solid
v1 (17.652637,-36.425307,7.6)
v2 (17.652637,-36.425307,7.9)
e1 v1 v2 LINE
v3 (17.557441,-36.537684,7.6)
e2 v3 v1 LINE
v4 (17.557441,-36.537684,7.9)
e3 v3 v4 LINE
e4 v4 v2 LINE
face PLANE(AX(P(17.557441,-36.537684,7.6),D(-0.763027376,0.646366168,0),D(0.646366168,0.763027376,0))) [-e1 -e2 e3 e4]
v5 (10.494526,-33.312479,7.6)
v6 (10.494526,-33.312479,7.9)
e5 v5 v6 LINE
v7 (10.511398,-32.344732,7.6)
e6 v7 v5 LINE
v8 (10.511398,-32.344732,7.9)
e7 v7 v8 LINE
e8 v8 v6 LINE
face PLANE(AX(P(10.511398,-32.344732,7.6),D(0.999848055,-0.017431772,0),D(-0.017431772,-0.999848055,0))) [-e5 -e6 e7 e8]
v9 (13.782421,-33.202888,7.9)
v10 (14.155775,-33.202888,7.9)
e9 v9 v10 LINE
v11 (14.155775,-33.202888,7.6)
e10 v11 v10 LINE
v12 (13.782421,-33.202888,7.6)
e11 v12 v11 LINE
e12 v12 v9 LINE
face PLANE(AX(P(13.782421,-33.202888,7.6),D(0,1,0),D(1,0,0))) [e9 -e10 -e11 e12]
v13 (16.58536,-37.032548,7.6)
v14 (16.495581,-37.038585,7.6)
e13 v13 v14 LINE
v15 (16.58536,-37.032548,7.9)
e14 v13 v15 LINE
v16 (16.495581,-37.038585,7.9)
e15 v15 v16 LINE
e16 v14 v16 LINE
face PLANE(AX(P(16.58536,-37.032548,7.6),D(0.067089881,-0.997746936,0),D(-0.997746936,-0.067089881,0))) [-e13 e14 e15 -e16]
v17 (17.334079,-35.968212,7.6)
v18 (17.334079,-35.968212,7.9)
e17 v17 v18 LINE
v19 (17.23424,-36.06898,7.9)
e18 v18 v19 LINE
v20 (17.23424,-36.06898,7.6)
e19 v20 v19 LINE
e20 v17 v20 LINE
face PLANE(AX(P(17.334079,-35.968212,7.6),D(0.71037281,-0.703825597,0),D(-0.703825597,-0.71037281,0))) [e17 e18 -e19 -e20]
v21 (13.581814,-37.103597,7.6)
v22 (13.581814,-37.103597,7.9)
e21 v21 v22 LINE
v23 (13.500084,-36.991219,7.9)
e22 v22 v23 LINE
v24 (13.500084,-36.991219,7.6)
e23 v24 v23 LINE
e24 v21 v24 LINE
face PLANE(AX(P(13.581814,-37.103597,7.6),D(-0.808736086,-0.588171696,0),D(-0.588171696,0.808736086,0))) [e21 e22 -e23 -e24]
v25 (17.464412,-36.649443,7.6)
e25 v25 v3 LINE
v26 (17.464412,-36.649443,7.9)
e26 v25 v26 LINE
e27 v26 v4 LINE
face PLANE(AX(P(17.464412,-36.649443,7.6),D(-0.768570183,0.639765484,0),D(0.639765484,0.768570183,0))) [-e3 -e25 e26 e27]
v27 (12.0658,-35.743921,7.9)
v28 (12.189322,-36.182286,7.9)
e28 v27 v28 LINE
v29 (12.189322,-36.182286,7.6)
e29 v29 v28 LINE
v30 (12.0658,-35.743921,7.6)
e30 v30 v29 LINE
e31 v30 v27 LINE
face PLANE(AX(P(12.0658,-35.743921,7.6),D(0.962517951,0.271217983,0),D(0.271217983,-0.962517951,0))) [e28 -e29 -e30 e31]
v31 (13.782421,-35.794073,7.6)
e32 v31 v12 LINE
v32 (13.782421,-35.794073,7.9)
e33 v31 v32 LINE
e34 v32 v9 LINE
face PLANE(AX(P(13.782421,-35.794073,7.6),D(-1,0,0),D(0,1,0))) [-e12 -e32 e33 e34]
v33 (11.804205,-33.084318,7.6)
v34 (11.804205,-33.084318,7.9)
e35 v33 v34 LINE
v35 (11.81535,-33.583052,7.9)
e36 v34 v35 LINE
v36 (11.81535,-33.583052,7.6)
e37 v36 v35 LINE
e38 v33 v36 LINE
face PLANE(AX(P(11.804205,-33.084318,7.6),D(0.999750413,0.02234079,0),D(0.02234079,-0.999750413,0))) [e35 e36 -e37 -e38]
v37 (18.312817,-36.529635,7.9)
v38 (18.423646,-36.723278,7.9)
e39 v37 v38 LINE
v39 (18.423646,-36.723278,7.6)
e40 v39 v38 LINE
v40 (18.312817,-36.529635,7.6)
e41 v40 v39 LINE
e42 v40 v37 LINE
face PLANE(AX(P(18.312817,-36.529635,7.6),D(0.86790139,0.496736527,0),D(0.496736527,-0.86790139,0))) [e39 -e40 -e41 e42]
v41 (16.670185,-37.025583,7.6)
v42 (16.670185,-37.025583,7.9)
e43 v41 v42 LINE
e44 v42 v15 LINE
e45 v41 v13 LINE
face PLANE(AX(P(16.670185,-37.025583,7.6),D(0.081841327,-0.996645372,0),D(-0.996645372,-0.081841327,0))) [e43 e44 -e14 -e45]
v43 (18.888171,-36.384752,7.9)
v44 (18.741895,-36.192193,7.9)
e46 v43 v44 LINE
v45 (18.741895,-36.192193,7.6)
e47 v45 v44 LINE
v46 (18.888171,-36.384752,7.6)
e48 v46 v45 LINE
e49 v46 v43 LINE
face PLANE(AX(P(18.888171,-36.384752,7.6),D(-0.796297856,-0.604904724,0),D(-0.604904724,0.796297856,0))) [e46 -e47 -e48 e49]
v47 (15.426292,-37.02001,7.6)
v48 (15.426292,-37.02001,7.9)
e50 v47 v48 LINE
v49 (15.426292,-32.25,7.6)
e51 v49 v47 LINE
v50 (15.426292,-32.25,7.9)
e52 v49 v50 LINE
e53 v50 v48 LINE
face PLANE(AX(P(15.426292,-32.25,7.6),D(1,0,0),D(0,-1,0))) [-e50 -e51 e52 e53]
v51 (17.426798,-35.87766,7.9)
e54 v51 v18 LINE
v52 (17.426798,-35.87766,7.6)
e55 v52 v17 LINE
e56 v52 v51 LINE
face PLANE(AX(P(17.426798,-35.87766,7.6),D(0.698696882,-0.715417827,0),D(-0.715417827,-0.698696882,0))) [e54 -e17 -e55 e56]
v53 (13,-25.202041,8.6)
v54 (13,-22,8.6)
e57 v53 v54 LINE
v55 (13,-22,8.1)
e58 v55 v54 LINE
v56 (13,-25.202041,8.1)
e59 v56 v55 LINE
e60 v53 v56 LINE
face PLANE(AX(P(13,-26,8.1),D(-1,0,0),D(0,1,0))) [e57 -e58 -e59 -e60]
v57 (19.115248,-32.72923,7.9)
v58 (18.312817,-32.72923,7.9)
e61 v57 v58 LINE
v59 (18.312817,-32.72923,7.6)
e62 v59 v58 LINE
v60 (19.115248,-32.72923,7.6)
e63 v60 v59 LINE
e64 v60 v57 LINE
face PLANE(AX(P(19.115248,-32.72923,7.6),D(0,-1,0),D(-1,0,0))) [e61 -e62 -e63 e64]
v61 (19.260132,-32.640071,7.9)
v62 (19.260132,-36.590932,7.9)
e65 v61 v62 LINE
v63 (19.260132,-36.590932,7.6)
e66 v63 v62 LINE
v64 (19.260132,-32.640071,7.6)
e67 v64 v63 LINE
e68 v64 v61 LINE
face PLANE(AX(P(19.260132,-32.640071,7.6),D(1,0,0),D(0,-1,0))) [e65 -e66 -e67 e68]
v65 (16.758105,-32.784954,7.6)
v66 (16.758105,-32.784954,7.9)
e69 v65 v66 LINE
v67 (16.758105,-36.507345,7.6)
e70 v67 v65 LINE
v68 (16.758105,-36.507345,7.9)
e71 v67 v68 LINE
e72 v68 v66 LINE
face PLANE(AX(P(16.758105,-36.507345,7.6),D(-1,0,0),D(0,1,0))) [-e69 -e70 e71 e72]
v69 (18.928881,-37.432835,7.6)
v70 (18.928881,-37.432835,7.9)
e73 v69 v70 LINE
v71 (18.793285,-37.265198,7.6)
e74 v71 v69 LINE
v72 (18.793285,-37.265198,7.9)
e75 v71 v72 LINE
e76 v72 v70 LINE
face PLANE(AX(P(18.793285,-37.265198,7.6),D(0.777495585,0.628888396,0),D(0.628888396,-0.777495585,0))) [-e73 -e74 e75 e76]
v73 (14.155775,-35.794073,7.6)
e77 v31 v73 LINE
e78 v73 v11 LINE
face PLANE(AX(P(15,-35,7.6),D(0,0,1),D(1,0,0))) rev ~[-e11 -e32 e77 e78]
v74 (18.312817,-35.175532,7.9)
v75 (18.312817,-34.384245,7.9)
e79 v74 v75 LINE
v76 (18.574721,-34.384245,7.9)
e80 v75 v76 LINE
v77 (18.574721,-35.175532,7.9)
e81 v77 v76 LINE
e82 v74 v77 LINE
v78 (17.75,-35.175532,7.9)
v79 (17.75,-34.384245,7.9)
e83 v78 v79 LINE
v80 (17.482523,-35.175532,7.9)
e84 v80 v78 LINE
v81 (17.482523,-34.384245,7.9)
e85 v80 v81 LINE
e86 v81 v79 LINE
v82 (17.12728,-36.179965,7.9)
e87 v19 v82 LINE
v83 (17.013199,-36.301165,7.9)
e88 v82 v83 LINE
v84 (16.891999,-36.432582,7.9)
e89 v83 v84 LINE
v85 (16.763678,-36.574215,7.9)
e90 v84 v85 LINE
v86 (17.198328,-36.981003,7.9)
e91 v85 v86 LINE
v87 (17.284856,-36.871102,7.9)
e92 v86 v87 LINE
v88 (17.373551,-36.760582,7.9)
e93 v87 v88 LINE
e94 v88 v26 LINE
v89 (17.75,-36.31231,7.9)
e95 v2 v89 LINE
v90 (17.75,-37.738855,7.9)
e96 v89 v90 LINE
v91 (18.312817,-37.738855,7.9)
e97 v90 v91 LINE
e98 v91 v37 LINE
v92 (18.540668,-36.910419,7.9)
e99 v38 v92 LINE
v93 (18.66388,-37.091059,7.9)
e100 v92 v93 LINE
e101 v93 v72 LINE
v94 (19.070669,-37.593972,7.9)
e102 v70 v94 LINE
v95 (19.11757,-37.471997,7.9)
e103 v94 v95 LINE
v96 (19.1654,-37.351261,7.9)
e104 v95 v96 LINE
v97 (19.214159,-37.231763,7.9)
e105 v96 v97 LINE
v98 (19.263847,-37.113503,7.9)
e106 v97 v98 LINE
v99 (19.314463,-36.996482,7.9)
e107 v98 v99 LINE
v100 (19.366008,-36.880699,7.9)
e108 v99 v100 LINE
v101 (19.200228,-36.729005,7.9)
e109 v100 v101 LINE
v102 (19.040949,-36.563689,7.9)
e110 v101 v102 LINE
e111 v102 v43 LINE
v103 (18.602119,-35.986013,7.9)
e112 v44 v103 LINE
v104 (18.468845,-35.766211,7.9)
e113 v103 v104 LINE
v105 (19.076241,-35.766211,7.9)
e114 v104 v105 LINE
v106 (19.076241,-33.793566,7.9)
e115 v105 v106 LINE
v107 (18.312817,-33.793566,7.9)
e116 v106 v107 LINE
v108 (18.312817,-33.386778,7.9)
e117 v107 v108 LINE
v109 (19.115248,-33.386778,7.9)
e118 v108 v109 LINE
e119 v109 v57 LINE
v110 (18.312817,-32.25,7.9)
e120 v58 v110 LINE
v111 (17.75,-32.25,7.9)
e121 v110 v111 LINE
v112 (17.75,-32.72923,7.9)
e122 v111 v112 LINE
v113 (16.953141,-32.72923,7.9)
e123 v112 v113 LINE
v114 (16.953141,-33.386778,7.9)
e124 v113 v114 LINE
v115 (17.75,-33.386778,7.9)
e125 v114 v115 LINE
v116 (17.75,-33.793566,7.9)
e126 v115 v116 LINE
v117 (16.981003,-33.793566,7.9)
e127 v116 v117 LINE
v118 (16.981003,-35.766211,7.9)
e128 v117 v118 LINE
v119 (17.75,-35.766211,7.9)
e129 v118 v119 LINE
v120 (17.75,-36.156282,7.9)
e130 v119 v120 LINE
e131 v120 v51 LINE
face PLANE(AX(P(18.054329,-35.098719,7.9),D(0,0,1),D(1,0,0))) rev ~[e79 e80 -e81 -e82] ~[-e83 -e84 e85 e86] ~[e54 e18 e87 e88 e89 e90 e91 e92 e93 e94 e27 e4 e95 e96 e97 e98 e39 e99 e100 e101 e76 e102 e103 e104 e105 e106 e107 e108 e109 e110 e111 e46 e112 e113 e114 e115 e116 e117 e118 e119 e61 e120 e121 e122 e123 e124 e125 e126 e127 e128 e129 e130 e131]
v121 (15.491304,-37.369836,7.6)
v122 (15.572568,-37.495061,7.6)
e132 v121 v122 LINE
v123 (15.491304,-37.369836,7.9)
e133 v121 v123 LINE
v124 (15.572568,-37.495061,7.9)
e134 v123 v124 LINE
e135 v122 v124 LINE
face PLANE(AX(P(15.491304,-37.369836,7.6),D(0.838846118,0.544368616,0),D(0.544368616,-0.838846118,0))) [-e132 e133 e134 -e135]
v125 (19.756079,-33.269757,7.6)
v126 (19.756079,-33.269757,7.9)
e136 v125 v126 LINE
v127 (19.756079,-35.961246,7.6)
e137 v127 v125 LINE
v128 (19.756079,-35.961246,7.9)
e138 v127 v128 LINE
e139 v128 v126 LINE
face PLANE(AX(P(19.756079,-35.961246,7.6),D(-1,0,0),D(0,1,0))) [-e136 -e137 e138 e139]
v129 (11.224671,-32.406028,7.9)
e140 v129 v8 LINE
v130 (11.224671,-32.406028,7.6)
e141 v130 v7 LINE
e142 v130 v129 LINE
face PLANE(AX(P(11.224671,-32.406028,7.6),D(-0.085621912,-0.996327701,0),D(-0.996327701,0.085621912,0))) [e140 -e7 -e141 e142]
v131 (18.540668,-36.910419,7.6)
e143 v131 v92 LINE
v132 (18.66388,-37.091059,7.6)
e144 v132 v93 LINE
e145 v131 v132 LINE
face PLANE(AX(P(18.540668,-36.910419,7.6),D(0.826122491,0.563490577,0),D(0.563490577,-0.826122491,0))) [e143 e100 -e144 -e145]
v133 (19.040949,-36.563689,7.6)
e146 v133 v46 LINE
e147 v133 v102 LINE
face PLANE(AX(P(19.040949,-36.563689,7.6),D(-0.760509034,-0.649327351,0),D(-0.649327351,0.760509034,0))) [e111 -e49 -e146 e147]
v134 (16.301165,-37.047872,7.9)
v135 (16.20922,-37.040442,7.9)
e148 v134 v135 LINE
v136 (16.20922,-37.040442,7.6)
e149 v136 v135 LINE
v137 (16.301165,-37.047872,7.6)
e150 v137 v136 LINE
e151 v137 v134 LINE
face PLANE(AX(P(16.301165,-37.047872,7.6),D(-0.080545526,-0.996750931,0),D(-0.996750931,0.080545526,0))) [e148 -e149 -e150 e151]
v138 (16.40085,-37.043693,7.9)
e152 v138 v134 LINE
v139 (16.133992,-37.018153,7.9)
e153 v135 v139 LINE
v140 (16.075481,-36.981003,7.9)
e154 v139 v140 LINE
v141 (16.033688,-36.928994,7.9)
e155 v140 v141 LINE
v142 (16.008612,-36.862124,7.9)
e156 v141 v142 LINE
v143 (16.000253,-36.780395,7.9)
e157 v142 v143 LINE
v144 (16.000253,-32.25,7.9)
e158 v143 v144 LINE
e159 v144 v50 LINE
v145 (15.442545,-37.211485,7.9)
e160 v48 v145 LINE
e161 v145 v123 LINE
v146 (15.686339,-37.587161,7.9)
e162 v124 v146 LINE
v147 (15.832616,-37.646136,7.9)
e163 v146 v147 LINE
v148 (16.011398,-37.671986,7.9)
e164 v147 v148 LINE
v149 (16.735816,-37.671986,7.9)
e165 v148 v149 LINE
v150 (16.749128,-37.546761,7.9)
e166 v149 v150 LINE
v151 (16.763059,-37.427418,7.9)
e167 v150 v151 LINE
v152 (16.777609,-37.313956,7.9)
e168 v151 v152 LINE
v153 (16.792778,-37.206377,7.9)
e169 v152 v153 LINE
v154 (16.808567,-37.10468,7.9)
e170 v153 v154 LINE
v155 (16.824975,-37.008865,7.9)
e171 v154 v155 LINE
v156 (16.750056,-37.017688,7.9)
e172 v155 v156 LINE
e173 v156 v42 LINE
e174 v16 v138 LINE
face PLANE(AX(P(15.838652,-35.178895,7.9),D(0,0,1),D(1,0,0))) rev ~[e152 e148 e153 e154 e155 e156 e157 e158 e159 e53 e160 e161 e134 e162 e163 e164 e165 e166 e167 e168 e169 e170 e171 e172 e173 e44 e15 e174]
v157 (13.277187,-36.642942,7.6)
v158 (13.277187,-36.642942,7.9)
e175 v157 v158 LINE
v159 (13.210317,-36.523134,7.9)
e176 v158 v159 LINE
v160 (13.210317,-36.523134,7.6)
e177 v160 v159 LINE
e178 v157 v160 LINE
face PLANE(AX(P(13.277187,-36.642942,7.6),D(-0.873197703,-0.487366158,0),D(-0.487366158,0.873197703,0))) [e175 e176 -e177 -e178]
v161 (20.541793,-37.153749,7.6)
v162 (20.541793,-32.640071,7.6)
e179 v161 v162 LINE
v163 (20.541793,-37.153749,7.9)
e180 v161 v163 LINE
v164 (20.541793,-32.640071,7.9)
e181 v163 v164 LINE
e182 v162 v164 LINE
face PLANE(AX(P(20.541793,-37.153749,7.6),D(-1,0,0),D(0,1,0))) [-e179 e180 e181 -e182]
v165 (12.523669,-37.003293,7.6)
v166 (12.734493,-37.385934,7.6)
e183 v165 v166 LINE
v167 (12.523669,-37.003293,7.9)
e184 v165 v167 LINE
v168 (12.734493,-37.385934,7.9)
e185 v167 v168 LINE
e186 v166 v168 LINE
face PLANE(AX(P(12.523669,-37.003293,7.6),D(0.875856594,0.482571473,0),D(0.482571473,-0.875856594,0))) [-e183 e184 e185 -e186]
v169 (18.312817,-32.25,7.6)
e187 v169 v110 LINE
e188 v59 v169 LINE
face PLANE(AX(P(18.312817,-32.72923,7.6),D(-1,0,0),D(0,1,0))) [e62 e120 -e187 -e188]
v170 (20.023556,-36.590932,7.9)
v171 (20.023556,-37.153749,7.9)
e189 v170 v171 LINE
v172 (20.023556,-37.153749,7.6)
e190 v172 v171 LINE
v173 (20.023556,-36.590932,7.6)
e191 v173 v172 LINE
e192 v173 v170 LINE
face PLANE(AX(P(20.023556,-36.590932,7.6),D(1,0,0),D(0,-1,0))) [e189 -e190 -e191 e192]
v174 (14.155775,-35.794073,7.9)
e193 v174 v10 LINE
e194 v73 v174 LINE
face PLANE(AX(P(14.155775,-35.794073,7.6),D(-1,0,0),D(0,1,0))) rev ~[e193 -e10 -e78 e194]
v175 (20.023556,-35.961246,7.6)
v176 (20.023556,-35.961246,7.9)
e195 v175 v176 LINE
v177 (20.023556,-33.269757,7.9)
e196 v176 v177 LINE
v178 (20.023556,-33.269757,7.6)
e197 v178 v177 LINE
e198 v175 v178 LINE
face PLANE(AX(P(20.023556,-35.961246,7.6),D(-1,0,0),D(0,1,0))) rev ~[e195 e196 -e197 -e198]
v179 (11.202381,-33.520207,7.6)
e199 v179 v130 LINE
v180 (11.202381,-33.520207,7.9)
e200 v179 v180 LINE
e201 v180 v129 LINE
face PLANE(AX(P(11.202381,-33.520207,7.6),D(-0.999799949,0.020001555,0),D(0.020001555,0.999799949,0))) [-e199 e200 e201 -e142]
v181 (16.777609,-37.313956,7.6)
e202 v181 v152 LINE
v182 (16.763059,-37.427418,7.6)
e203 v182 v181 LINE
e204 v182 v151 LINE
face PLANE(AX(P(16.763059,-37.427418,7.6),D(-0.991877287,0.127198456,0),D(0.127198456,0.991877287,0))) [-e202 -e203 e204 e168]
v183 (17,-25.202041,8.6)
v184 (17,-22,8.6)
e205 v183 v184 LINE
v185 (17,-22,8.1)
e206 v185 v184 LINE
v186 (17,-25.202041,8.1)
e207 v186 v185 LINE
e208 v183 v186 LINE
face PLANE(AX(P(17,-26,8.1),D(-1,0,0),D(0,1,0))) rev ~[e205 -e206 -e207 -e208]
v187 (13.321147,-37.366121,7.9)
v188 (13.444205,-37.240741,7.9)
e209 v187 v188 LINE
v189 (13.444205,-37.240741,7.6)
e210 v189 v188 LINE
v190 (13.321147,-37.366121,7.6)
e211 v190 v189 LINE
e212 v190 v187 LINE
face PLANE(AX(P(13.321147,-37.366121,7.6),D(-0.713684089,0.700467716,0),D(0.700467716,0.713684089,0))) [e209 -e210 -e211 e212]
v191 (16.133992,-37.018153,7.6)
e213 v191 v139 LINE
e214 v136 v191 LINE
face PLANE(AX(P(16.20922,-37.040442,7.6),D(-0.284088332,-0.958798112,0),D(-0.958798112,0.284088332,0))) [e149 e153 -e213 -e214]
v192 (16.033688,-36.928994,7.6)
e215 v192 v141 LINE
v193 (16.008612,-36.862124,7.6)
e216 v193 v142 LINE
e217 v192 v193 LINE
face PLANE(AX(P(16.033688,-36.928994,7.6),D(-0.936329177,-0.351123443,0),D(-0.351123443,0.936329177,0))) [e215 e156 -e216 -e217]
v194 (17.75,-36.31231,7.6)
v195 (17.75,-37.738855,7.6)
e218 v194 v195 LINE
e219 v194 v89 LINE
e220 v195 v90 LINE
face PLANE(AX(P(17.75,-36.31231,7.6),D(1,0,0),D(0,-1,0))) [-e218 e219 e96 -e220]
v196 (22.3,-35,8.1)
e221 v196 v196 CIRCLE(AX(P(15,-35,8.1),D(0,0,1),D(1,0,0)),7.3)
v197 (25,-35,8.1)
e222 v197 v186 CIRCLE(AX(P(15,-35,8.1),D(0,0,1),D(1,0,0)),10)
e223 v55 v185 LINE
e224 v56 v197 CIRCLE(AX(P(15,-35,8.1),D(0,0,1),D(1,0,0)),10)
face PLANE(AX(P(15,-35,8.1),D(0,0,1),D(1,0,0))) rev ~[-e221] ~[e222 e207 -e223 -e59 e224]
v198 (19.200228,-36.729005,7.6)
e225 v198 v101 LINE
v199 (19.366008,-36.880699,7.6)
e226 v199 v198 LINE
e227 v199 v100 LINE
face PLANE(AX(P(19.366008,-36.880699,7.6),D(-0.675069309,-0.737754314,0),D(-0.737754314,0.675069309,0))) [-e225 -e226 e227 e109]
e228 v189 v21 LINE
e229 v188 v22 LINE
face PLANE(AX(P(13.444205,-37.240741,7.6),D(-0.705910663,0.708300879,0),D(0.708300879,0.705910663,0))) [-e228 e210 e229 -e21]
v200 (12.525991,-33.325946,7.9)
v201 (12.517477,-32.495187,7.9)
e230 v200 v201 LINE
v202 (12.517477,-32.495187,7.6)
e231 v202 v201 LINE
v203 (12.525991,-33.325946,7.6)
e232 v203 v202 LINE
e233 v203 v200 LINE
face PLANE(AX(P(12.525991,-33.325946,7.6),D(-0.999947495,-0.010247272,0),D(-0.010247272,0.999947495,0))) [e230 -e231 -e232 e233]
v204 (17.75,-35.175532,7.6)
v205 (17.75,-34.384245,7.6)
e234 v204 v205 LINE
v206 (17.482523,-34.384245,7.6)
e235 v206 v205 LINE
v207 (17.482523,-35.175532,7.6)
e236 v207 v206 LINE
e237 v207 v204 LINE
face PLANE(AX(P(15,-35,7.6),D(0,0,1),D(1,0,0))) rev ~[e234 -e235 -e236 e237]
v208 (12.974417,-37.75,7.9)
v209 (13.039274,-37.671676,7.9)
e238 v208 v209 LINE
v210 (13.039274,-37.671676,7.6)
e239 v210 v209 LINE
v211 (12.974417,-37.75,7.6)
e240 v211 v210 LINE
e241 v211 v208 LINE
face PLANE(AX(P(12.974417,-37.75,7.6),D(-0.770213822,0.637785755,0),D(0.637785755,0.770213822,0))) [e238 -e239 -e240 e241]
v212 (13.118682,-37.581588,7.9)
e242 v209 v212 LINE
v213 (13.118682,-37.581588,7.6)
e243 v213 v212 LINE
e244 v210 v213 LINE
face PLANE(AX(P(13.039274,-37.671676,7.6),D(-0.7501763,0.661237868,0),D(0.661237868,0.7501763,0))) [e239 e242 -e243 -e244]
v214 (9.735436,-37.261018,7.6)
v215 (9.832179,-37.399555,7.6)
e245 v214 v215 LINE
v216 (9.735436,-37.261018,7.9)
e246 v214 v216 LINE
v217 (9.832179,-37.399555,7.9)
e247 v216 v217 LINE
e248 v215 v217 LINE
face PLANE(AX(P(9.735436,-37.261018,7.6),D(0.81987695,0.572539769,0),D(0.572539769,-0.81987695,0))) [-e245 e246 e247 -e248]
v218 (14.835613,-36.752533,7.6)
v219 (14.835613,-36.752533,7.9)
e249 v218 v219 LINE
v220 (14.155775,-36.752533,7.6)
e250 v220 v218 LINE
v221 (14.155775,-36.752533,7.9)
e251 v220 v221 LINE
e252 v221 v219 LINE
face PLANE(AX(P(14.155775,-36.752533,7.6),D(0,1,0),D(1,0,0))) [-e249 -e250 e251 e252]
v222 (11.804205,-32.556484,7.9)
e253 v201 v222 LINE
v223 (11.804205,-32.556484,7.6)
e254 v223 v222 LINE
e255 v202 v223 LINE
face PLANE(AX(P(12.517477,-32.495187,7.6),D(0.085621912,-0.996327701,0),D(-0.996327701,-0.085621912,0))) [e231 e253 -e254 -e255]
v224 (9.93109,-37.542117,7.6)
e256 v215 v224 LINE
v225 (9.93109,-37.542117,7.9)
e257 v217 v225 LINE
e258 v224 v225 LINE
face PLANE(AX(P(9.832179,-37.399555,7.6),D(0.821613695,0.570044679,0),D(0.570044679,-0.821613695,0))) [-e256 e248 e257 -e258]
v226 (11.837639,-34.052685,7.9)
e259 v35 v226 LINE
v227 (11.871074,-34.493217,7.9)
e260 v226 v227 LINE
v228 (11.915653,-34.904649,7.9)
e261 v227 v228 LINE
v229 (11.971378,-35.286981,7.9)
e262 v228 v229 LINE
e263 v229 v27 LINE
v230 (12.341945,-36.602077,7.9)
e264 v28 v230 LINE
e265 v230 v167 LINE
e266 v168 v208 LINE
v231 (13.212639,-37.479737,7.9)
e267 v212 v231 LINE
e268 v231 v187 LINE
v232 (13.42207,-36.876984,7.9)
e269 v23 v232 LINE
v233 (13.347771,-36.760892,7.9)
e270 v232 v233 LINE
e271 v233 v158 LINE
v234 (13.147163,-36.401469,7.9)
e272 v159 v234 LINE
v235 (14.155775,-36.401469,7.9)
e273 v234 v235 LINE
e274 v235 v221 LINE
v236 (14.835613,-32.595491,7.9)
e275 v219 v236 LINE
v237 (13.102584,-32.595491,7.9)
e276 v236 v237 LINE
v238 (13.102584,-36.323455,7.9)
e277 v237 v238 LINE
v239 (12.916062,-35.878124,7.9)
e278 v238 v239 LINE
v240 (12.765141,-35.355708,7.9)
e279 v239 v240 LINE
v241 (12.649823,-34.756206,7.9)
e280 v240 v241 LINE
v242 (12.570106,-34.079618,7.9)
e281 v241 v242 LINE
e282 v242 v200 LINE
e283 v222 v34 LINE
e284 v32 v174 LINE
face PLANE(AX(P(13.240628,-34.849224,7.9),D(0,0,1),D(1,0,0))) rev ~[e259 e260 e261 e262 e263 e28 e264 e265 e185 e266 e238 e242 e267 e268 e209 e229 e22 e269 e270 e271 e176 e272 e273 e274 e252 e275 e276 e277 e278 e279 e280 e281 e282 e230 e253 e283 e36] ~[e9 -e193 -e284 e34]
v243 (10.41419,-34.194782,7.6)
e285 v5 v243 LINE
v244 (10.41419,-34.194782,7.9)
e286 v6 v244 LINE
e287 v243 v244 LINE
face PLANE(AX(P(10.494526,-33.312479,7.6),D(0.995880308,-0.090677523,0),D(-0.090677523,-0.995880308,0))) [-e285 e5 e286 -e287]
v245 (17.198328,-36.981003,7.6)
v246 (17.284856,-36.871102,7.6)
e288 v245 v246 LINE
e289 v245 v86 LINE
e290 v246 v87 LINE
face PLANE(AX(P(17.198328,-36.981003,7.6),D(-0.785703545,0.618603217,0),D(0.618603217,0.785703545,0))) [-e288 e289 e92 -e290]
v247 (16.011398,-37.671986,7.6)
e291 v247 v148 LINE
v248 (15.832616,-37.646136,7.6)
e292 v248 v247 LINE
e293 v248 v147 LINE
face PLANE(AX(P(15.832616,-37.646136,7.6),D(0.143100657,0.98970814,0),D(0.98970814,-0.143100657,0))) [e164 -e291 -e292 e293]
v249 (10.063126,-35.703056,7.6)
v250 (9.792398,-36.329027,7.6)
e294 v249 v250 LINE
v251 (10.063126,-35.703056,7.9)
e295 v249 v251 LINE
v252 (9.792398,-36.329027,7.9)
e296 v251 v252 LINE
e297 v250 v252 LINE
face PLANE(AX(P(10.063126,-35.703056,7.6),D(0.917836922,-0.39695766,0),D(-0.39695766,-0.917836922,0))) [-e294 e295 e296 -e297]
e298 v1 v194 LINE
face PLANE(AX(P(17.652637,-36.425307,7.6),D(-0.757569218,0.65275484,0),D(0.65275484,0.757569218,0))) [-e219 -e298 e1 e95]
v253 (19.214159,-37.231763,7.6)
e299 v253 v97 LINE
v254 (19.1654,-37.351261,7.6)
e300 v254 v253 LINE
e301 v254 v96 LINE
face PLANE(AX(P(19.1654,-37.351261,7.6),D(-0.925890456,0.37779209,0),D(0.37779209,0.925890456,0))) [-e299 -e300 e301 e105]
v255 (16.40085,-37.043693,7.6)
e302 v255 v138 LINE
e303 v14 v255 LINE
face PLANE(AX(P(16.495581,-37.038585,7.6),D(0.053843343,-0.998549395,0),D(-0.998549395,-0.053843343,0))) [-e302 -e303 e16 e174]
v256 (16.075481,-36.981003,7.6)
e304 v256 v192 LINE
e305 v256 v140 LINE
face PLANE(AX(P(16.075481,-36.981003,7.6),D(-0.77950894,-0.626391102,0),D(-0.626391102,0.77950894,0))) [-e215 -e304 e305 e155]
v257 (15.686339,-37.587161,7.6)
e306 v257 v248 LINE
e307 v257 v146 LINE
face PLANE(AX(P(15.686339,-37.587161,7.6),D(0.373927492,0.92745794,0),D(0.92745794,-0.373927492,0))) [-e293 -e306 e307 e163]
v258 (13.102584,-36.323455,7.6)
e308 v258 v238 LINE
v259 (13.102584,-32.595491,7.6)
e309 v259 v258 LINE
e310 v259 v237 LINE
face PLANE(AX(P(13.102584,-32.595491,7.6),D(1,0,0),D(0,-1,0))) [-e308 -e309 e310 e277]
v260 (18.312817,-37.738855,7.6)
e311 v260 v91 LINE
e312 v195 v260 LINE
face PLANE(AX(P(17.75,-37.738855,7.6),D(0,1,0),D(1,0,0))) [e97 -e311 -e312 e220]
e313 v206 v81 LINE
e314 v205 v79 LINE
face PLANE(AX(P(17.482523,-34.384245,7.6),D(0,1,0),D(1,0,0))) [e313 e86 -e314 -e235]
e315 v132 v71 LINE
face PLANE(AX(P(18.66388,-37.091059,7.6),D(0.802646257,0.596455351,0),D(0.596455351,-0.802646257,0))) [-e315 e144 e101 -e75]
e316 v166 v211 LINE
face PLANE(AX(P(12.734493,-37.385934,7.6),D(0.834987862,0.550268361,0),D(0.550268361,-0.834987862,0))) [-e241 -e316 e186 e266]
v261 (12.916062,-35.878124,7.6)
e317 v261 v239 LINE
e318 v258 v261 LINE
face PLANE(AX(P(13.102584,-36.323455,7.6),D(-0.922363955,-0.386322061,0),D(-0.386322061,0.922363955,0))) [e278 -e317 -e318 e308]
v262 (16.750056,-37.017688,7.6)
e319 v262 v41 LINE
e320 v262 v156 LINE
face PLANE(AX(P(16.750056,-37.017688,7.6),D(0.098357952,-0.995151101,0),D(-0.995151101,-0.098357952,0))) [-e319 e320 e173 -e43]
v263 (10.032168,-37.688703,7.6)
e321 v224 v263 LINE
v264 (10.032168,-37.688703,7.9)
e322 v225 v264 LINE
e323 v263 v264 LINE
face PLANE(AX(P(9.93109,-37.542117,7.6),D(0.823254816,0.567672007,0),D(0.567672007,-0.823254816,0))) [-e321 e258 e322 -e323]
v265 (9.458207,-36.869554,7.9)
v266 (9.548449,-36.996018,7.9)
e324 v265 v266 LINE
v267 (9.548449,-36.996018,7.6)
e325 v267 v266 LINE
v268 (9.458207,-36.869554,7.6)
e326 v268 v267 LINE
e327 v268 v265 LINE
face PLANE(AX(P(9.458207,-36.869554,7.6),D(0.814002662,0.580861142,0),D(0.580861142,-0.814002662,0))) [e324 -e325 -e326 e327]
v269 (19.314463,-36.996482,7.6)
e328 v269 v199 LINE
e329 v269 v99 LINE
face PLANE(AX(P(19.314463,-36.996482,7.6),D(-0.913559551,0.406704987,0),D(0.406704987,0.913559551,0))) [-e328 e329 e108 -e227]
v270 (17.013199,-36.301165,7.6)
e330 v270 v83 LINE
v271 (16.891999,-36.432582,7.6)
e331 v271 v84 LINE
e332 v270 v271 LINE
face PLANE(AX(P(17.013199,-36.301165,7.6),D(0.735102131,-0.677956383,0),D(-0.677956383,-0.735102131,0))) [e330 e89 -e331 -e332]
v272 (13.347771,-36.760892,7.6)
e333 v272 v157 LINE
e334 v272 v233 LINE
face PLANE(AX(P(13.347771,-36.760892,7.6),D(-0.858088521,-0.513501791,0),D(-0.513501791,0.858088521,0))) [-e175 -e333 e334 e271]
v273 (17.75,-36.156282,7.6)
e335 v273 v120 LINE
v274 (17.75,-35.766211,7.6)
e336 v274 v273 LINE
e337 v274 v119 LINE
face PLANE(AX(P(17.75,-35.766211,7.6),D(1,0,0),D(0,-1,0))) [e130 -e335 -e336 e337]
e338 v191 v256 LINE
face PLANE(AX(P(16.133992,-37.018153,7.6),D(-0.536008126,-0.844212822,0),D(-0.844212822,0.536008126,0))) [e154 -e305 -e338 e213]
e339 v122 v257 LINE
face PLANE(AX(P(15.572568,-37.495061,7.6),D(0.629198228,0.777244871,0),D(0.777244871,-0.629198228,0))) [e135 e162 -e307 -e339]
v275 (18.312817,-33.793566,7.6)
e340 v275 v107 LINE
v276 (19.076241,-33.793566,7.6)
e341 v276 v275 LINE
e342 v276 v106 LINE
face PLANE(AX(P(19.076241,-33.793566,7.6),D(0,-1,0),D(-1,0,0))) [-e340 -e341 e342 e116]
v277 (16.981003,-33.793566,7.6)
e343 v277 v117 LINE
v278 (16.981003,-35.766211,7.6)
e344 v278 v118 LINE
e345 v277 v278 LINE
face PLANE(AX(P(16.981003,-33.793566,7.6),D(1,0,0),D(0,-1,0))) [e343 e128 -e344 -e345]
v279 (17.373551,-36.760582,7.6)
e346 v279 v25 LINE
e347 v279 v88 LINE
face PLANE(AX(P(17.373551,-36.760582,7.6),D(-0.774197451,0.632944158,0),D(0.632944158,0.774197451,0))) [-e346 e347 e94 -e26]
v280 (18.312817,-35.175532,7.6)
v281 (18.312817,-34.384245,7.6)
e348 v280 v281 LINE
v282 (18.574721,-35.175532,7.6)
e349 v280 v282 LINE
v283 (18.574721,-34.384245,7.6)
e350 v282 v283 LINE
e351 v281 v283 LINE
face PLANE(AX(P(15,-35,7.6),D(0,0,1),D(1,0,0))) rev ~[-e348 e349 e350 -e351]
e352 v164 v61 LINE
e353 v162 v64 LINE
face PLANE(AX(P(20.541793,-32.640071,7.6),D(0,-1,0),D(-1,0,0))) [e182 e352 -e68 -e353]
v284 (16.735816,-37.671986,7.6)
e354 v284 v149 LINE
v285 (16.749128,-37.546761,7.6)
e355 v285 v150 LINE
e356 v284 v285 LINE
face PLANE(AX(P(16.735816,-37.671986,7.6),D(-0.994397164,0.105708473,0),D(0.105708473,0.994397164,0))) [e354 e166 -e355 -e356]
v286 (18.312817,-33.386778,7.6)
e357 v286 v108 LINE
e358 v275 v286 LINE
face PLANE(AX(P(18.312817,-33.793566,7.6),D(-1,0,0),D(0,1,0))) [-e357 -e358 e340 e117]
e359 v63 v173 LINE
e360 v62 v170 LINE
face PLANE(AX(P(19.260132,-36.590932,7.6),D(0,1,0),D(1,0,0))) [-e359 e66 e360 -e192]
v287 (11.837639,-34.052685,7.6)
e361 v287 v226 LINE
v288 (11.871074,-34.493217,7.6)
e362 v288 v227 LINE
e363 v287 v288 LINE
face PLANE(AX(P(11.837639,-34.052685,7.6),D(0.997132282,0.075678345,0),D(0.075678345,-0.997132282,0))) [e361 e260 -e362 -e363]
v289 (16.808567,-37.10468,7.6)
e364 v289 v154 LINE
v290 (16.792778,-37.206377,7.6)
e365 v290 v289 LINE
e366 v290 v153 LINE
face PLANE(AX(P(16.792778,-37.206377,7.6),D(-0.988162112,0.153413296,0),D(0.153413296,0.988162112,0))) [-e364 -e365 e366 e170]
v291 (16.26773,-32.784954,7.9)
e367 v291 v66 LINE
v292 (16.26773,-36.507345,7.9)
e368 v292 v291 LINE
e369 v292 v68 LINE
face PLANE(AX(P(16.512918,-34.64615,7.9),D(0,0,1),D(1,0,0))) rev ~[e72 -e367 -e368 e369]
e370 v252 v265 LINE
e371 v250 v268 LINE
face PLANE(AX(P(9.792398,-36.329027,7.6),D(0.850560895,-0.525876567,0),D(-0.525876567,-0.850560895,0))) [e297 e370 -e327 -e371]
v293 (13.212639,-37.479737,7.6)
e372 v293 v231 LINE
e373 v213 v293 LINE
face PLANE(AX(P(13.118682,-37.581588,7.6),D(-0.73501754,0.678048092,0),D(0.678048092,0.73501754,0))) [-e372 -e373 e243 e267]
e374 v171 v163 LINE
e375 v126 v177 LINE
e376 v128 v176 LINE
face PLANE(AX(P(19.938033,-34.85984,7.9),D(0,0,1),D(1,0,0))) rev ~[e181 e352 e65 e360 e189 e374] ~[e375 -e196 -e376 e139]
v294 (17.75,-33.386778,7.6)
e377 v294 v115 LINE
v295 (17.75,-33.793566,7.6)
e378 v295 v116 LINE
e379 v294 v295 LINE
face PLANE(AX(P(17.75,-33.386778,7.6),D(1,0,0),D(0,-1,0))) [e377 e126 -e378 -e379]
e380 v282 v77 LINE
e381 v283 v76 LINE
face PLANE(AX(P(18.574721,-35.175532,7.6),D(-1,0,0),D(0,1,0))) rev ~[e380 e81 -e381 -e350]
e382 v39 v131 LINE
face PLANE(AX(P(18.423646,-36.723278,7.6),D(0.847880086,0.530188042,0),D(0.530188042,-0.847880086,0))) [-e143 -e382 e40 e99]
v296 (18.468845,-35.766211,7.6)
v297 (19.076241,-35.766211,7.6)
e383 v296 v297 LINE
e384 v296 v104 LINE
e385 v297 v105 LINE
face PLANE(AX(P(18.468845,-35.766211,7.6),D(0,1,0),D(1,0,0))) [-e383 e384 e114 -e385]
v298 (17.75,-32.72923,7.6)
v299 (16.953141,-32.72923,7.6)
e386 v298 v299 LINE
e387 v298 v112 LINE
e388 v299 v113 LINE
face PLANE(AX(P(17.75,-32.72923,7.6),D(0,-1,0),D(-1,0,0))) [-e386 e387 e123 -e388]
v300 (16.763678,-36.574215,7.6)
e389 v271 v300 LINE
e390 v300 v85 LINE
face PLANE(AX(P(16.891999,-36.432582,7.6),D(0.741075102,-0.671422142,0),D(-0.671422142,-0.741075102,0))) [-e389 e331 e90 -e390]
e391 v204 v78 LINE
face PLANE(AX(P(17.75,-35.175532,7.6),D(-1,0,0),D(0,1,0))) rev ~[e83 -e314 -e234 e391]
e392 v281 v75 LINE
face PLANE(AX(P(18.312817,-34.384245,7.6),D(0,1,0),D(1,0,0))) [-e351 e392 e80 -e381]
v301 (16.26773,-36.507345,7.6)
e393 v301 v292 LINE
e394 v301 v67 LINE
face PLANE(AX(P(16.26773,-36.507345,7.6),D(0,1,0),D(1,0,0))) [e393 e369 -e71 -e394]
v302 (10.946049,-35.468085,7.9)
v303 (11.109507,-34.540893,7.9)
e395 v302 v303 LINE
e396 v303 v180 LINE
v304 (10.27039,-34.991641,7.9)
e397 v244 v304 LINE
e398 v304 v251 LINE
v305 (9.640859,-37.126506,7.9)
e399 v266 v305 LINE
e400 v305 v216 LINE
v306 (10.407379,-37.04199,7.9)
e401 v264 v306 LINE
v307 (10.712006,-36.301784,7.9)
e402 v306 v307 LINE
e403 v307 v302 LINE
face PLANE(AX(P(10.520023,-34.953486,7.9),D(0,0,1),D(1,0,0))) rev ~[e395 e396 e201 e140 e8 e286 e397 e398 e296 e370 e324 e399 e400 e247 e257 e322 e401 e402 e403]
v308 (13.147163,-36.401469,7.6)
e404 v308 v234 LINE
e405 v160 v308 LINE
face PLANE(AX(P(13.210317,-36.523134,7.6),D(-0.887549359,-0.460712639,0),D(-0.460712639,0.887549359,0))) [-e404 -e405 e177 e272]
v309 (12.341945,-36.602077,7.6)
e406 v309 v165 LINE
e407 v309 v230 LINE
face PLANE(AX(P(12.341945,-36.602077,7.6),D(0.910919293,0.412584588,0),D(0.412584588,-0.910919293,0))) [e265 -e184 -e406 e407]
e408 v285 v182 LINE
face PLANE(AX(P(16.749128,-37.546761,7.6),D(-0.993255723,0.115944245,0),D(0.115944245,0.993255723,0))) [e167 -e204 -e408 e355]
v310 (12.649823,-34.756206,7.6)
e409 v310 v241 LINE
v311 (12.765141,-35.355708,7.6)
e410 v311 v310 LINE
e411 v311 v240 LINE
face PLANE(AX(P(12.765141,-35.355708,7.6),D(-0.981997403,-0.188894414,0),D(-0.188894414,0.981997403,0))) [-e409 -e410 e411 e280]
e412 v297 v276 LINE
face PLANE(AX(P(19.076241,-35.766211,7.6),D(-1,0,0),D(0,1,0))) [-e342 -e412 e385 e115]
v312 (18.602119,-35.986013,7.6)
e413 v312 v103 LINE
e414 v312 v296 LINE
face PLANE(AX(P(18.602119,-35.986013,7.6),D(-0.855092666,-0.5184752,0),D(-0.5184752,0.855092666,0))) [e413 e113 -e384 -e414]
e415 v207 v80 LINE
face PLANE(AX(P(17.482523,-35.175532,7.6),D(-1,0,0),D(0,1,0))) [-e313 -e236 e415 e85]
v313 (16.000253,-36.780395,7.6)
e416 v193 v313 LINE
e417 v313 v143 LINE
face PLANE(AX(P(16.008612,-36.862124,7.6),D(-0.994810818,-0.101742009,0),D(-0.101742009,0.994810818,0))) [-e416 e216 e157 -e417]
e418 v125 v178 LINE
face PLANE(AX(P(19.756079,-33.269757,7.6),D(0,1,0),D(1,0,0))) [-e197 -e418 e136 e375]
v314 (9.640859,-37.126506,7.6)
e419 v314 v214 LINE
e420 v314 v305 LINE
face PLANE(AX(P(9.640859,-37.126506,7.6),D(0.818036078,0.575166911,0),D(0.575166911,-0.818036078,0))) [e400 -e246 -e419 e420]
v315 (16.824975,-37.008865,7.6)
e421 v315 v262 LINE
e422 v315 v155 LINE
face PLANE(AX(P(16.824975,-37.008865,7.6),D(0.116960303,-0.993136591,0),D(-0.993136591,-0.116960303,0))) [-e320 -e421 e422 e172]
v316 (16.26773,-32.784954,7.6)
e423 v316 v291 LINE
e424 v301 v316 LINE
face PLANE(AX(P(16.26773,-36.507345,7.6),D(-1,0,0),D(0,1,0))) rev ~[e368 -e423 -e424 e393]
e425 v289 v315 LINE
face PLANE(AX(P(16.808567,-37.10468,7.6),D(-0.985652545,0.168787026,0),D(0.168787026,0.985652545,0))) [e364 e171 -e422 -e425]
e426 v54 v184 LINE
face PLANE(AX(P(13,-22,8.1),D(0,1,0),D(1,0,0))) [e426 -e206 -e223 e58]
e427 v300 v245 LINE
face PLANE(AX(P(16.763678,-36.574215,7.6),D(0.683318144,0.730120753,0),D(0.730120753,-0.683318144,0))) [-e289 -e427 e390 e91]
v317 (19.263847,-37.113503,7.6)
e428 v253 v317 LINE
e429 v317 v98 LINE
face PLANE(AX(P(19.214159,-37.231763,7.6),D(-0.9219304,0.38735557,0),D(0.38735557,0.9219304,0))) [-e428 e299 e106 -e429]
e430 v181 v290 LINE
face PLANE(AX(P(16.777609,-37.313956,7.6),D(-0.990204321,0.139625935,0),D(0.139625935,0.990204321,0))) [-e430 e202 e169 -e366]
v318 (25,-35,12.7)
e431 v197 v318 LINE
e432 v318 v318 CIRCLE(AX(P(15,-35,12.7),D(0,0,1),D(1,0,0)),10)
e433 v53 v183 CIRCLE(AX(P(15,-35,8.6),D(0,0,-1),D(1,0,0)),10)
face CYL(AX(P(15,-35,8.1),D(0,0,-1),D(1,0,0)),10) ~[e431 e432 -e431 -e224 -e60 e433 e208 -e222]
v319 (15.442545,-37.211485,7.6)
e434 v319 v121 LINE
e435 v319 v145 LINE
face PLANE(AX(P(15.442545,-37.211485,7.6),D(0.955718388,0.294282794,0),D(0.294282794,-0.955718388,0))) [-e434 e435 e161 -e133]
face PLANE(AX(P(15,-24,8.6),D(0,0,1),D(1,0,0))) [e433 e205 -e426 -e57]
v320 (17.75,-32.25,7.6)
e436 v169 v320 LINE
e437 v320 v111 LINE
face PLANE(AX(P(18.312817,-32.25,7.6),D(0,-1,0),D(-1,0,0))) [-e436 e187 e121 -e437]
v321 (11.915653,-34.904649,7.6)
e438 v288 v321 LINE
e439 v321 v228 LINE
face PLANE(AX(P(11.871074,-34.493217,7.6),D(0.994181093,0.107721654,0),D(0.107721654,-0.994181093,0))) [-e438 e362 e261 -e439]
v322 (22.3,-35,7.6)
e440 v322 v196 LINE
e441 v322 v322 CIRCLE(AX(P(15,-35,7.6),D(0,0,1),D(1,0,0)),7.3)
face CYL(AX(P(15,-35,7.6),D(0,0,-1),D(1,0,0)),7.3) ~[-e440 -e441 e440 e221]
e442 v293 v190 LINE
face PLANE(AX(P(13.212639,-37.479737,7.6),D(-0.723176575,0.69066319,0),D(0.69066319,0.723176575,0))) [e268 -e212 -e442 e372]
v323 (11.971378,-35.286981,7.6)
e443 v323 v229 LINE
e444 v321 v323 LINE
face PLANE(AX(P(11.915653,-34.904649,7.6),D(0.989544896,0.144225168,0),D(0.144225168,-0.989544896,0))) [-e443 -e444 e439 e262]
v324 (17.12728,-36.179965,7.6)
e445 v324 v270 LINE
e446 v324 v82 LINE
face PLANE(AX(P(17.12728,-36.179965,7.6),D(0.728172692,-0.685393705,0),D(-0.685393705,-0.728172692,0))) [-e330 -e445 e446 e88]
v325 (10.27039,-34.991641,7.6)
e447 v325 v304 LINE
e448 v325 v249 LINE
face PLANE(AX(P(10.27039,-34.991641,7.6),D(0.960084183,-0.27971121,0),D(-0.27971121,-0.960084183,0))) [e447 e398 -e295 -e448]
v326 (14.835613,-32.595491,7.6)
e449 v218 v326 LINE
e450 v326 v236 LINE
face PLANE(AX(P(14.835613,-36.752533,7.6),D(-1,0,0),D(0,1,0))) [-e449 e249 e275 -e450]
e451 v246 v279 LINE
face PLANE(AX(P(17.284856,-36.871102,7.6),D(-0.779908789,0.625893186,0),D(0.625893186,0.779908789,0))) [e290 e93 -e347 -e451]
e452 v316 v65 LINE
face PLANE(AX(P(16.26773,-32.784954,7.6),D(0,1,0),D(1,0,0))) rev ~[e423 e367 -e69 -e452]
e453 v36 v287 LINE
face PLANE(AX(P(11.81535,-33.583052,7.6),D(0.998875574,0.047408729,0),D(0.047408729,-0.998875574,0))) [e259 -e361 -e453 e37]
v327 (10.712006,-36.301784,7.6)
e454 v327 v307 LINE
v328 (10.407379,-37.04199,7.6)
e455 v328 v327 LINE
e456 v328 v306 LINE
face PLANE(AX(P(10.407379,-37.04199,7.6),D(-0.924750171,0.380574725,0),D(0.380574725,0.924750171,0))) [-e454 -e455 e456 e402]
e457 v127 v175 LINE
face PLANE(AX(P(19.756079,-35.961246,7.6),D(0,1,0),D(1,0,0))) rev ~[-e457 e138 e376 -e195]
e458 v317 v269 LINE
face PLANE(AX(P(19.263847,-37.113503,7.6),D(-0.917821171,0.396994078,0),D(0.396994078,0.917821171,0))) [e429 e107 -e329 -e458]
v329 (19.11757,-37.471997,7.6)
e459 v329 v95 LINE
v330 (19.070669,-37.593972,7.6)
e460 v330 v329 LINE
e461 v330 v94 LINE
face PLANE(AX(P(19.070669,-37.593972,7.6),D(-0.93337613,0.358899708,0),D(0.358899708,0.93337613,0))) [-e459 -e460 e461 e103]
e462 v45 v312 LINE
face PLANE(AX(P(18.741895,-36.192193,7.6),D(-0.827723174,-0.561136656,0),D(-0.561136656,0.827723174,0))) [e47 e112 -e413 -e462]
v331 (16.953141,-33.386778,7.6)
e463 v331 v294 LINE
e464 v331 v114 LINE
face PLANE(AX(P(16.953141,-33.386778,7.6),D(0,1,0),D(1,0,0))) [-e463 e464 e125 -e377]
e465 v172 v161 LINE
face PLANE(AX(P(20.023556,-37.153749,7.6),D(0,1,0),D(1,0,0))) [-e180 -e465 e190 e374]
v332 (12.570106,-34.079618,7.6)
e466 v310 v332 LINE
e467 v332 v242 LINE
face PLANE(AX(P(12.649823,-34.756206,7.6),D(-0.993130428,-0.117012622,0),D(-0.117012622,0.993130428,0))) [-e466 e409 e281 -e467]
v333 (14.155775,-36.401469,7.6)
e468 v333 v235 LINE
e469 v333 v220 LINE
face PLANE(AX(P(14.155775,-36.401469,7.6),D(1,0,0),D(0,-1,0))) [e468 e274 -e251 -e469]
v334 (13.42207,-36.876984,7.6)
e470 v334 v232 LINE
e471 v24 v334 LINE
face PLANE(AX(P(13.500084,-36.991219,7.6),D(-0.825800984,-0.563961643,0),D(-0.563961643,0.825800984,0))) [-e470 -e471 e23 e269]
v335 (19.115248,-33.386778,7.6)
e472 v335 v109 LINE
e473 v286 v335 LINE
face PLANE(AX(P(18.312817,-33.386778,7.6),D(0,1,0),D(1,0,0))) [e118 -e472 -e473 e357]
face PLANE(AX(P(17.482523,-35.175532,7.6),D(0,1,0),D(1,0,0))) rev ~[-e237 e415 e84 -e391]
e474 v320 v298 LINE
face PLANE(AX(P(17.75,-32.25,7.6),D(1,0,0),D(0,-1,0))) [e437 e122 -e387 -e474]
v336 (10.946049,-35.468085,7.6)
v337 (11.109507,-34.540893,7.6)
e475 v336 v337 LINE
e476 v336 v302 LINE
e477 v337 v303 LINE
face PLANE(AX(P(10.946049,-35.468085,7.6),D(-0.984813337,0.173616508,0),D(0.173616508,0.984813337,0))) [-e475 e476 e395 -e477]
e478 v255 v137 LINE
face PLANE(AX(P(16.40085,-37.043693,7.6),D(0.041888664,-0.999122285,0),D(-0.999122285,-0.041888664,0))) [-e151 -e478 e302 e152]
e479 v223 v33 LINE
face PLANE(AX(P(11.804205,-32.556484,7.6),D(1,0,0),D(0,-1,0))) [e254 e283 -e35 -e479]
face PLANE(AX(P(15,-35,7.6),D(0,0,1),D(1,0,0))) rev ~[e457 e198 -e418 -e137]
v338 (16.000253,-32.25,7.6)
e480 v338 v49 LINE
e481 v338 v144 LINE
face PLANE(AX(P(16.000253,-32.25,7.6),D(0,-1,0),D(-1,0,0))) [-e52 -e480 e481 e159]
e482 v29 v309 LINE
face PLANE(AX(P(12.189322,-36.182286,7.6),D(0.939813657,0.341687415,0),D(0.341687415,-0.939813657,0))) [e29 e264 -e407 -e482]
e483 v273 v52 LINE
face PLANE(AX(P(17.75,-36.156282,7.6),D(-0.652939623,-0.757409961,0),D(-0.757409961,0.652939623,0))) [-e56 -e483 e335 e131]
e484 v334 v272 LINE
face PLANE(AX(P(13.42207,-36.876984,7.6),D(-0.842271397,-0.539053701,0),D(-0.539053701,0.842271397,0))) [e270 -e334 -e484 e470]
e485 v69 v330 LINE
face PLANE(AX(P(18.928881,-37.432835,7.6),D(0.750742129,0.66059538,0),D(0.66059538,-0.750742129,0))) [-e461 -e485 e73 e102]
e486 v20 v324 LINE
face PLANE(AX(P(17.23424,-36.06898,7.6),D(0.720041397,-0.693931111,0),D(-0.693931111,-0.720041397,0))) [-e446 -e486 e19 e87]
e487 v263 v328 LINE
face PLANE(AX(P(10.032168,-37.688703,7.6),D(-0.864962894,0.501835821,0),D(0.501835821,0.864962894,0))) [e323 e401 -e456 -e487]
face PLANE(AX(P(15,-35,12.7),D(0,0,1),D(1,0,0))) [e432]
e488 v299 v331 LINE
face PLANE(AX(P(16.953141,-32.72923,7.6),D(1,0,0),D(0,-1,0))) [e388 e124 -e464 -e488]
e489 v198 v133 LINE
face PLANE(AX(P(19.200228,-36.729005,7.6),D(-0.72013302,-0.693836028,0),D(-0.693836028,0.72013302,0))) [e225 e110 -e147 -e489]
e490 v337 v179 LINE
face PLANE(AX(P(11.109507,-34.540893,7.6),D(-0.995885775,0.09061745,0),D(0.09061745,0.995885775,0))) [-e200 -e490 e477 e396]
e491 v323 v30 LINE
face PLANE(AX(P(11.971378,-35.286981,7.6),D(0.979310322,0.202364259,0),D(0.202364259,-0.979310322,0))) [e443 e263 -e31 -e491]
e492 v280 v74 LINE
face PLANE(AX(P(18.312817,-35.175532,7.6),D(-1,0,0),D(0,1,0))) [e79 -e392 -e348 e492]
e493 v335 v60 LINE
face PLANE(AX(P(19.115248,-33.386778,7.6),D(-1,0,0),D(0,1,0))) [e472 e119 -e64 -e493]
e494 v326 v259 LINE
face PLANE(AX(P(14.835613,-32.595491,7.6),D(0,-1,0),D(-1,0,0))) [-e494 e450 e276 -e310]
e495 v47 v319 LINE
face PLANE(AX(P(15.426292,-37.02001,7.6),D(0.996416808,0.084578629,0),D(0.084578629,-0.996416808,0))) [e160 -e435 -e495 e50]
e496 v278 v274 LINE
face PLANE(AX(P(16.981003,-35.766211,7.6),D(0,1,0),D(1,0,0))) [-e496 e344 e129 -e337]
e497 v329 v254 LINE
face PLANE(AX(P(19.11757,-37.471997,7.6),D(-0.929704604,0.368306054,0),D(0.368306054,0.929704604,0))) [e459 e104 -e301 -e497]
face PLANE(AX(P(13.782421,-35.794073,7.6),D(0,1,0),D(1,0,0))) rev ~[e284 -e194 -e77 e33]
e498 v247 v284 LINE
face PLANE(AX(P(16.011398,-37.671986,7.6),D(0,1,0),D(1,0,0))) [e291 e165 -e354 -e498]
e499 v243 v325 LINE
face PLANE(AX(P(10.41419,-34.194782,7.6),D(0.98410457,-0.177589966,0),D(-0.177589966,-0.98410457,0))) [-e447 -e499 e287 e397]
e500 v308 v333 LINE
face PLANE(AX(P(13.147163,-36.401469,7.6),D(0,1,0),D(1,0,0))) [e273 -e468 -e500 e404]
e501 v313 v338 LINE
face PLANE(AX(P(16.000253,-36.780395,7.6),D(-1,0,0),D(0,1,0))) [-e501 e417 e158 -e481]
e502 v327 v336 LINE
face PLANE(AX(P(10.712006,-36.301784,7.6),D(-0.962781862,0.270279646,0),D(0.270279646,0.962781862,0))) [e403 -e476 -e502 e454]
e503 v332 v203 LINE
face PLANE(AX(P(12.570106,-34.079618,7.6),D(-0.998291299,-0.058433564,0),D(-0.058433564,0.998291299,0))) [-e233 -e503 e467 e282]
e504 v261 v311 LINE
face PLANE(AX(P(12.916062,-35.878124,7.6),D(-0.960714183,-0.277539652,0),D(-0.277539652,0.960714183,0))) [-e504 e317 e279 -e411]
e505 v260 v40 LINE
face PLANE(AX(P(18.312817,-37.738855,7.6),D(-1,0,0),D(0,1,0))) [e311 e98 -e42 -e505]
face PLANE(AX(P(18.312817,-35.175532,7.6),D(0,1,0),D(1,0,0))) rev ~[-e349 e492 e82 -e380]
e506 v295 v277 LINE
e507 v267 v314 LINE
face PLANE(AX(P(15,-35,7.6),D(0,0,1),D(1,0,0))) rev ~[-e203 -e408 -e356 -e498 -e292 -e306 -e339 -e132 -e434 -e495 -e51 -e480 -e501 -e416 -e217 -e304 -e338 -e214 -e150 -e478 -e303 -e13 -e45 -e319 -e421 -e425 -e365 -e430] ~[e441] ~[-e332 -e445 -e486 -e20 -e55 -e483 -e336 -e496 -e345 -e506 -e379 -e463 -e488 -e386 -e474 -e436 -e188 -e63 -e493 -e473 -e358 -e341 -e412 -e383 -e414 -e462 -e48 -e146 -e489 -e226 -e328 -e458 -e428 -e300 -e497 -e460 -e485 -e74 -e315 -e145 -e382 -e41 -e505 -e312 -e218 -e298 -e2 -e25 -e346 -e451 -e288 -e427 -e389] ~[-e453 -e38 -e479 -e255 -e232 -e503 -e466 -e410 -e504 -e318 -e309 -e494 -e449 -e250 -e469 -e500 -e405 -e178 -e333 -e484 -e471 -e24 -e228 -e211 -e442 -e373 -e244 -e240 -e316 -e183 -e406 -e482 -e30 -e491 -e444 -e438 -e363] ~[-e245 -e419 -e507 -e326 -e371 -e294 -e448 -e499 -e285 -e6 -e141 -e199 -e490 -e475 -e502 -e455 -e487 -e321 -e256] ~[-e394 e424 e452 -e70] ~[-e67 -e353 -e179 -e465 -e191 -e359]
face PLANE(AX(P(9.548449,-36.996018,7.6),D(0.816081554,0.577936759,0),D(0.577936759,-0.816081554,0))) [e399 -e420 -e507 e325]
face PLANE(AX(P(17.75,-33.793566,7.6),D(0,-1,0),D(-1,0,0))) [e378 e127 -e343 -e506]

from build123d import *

# Parameters (mm, degrees)
SKETCH_230_R          = 7.3
EXTRUDE_254_DEPTH     = 0.5
SKETCH_305_R          = 10
EXTRUDE_323_DEPTH     = 4.6
SKETCH_364_W          = 4
SKETCH_364_H          = 4
EXTRUDE_412_DEPTH     = 0.5
SKETCH_471_W          = 0.267477204
SKETCH_471_H          = 0.791286728
SKETCH_471_W_2        = 0.261904762
SKETCH_471_H_2        = 2.691489362
SKETCH_471_W_3        = 0.490374874
SKETCH_471_H_3        = 3.722391084
SKETCH_471_W_4        = 0.373353597
SKETCH_471_H_4        = 2.59118541
CUT_EXTRUDE_814_DEPTH = 0.3


with BuildPart() as part:
    # Sketch 230 → Extrude 254 (new body)
    with BuildSketch(Plane.XY.offset(7.6)):
        with Locations((15, -35)):
            Circle(SKETCH_230_R)
    extrude(amount=EXTRUDE_254_DEPTH)

    # Sketch 305 → Extrude 323 (add)
    with BuildSketch(Plane.XY.offset(8.1)):
        with Locations((15, -35)):
            Circle(SKETCH_305_R)
    extrude(amount=EXTRUDE_323_DEPTH)

    # Sketch 364 → Extrude 412 (add)
    with BuildSketch(Plane.XY.offset(8.1)):
        with Locations((15, -24)):
            Rectangle(SKETCH_364_W, SKETCH_364_H)
    extrude(amount=EXTRUDE_412_DEPTH)

    # Sketch 471 → Cut-Extrude 814 (cut)
    # profile 1 of 6: a face of its own
    with BuildSketch(Plane.XY.offset(7.6)):
        Polygon((19.076241135, -35.76621074), (19.076241135, -33.793566363), (18.312816616, -33.793566363), (18.312816616, -33.386778116), (19.115248227, -33.386778116), (19.115248227, -32.72922999), (18.312816616, -32.72922999), (18.312816616, -32.25), (17.75, -32.25), (17.75, -32.72922999), (16.953140831, -32.72922999), (16.953140831, -33.386778116), (17.75, -33.386778116), (17.75, -33.793566363), (16.98100304, -33.793566363), (16.98100304, -35.76621074), (17.75, -35.76621074), (17.75, -36.156281662), (17.426798379, -35.877659574), (17.33407914, -35.968211753), (17.234239559, -36.068980074), (17.127279635, -36.179964539), (17.01319937, -36.301165147), (16.891998762, -36.432581898), (16.763677812, -36.574214792), (17.198328267, -36.98100304), (17.284855905, -36.871102105), (17.373550602, -36.760582011), (17.464412361, -36.649442756), (17.55744118, -36.537684341), (17.65263706, -36.425306766), (17.75, -36.31231003), (17.75, -37.738855117), (18.312816616, -37.738855117), (18.312816616, -36.529635258), (18.423646291, -36.723277609), (18.540667567, -36.910418777), (18.663880446, -37.091058764), (18.793284926, -37.265197568), (18.928881009, -37.432835191), (19.070668693, -37.593971631), (19.117570078, -37.471997073), (19.165400203, -37.351260835), (19.214159068, -37.231762918), (19.263846673, -37.113503321), (19.314463019, -36.996482044), (19.366008105, -36.880699088), (19.200227964, -36.729004841), (19.040949004, -36.563689069), (18.888171226, -36.384751773), (18.74189463, -36.192192953), (18.602119216, -35.986012608), (18.468844985, -35.76621074), align=None)
        with Locations((17.616261398, -34.779888551)):
            Rectangle(SKETCH_471_W, SKETCH_471_H, mode=Mode.SUBTRACT)
        with Locations((18.443768997, -34.779888551)):
            Rectangle(SKETCH_471_W_2, SKETCH_471_H, mode=Mode.SUBTRACT)
    # profile 2 of 6: a face of its own
    with BuildSketch(Plane.XY.offset(7.6)):
        Polygon((19.260131712, -32.640070922), (19.260131712, -36.590932118), (20.023556231, -36.590932118), (20.023556231, -37.153748734), (20.541793313, -37.153748734), (20.541793313, -32.640070922), align=None)
        with Locations((19.889817629, -34.61550152)):
            Rectangle(SKETCH_471_W, SKETCH_471_H_2, mode=Mode.SUBTRACT)
    # profile 3 of 6: a face of its own
    with BuildSketch(Plane.XY.offset(7.6)):
        Polygon((16.000253293, -32.25), (15.426291793, -32.25), (15.426291793, -37.020010132), (15.442544748, -37.211485422), (15.491303614, -37.369835641), (15.572568389, -37.49506079), (15.686339075, -37.587160869), (15.83261567, -37.646135878), (16.011398176, -37.671985816), (16.735815603, -37.671985816), (16.749127547, -37.546760666), (16.763058651, -37.427417539), (16.777608916, -37.313956434), (16.792778341, -37.20637735), (16.808566926, -37.104680288), (16.824974671, -37.008865248), (16.750056287, -37.017688281), (16.670184622, -37.025582573), (16.585359676, -37.032548126), (16.495581448, -37.038584938), (16.400849938, -37.043693009), (16.301165147, -37.04787234), (16.209219858, -37.040442418), (16.133991895, -37.018152651), (16.075481256, -36.98100304), (16.033687943, -36.928993583), (16.008611955, -36.862124282), (16.000253293, -36.780395137), align=None)
    # profile 4 of 6: a face of its own
    with BuildSketch(Plane.XY.offset(7.6)):
        with Locations((16.512917933, -34.646149949)):
            Rectangle(SKETCH_471_W_3, SKETCH_471_H_3)
    # profile 5 of 6: a face of its own
    with BuildSketch(Plane.XY.offset(7.6)):
        Polygon((14.835612969, -32.595491388), (13.102583587, -32.595491388), (13.102583587, -36.323454914), (12.916061578, -35.878123945), (12.765141281, -35.355707531), (12.649822695, -34.756205674), (12.57010582, -34.079618372), (12.525990656, -33.325945626), (12.517477204, -32.495187437), (11.804204661, -32.556484296), (11.804204661, -33.084318361), (11.815349544, -33.583051897), (11.837639311, -34.052684904), (11.871073961, -34.493217382), (11.915653495, -34.90464933), (11.971377913, -35.28698075), (12.065799842, -35.743920973), (12.189322301, -36.18228639), (12.341945289, -36.602077001), (12.523668806, -37.003292806), (12.734492852, -37.385933806), (12.974417427, -37.75), (13.039274457, -37.671676236), (13.118681752, -37.581588427), (13.212639311, -37.479736575), (13.321147135, -37.36612068), (13.444205223, -37.240740741), (13.581813576, -37.103596758), (13.500084431, -36.991219183), (13.422070247, -36.876984127), (13.347771023, -36.760891591), (13.277186761, -36.642941574), (13.21031746, -36.523134076), (13.147163121, -36.401469098), (14.155775076, -36.401469098), (14.155775076, -36.752532928), (14.835612969, -36.752532928), align=None)
        with Locations((13.969098278, -34.498480243)):
            Rectangle(SKETCH_471_W_4, SKETCH_471_H_4, mode=Mode.SUBTRACT)
    # profile 6 of 6: a face of its own
    with BuildSketch(Plane.XY.offset(7.6)):
        Polygon((10.511398176, -32.34473151), (10.494526061, -33.312478892), (10.414190026, -34.194782168), (10.270390071, -34.991641337), (10.063126196, -35.7030564), (9.792398401, -36.329027356), (9.458206687, -36.869554205), (9.548449285, -36.996017674), (9.640858944, -37.126505685), (9.735435664, -37.261018237), (9.832179444, -37.39955533), (9.931090285, -37.542116965), (10.032168186, -37.688703141), (10.407379264, -37.041990319), (10.712006079, -36.301784307), (10.946048632, -35.468085106), (11.109506923, -34.540892716), (11.202380952, -33.520207137), (11.224670719, -32.406028369), align=None)
    extrude(amount=CUT_EXTRUDE_814_DEPTH, mode=Mode.SUBTRACT)


solid = part.part
